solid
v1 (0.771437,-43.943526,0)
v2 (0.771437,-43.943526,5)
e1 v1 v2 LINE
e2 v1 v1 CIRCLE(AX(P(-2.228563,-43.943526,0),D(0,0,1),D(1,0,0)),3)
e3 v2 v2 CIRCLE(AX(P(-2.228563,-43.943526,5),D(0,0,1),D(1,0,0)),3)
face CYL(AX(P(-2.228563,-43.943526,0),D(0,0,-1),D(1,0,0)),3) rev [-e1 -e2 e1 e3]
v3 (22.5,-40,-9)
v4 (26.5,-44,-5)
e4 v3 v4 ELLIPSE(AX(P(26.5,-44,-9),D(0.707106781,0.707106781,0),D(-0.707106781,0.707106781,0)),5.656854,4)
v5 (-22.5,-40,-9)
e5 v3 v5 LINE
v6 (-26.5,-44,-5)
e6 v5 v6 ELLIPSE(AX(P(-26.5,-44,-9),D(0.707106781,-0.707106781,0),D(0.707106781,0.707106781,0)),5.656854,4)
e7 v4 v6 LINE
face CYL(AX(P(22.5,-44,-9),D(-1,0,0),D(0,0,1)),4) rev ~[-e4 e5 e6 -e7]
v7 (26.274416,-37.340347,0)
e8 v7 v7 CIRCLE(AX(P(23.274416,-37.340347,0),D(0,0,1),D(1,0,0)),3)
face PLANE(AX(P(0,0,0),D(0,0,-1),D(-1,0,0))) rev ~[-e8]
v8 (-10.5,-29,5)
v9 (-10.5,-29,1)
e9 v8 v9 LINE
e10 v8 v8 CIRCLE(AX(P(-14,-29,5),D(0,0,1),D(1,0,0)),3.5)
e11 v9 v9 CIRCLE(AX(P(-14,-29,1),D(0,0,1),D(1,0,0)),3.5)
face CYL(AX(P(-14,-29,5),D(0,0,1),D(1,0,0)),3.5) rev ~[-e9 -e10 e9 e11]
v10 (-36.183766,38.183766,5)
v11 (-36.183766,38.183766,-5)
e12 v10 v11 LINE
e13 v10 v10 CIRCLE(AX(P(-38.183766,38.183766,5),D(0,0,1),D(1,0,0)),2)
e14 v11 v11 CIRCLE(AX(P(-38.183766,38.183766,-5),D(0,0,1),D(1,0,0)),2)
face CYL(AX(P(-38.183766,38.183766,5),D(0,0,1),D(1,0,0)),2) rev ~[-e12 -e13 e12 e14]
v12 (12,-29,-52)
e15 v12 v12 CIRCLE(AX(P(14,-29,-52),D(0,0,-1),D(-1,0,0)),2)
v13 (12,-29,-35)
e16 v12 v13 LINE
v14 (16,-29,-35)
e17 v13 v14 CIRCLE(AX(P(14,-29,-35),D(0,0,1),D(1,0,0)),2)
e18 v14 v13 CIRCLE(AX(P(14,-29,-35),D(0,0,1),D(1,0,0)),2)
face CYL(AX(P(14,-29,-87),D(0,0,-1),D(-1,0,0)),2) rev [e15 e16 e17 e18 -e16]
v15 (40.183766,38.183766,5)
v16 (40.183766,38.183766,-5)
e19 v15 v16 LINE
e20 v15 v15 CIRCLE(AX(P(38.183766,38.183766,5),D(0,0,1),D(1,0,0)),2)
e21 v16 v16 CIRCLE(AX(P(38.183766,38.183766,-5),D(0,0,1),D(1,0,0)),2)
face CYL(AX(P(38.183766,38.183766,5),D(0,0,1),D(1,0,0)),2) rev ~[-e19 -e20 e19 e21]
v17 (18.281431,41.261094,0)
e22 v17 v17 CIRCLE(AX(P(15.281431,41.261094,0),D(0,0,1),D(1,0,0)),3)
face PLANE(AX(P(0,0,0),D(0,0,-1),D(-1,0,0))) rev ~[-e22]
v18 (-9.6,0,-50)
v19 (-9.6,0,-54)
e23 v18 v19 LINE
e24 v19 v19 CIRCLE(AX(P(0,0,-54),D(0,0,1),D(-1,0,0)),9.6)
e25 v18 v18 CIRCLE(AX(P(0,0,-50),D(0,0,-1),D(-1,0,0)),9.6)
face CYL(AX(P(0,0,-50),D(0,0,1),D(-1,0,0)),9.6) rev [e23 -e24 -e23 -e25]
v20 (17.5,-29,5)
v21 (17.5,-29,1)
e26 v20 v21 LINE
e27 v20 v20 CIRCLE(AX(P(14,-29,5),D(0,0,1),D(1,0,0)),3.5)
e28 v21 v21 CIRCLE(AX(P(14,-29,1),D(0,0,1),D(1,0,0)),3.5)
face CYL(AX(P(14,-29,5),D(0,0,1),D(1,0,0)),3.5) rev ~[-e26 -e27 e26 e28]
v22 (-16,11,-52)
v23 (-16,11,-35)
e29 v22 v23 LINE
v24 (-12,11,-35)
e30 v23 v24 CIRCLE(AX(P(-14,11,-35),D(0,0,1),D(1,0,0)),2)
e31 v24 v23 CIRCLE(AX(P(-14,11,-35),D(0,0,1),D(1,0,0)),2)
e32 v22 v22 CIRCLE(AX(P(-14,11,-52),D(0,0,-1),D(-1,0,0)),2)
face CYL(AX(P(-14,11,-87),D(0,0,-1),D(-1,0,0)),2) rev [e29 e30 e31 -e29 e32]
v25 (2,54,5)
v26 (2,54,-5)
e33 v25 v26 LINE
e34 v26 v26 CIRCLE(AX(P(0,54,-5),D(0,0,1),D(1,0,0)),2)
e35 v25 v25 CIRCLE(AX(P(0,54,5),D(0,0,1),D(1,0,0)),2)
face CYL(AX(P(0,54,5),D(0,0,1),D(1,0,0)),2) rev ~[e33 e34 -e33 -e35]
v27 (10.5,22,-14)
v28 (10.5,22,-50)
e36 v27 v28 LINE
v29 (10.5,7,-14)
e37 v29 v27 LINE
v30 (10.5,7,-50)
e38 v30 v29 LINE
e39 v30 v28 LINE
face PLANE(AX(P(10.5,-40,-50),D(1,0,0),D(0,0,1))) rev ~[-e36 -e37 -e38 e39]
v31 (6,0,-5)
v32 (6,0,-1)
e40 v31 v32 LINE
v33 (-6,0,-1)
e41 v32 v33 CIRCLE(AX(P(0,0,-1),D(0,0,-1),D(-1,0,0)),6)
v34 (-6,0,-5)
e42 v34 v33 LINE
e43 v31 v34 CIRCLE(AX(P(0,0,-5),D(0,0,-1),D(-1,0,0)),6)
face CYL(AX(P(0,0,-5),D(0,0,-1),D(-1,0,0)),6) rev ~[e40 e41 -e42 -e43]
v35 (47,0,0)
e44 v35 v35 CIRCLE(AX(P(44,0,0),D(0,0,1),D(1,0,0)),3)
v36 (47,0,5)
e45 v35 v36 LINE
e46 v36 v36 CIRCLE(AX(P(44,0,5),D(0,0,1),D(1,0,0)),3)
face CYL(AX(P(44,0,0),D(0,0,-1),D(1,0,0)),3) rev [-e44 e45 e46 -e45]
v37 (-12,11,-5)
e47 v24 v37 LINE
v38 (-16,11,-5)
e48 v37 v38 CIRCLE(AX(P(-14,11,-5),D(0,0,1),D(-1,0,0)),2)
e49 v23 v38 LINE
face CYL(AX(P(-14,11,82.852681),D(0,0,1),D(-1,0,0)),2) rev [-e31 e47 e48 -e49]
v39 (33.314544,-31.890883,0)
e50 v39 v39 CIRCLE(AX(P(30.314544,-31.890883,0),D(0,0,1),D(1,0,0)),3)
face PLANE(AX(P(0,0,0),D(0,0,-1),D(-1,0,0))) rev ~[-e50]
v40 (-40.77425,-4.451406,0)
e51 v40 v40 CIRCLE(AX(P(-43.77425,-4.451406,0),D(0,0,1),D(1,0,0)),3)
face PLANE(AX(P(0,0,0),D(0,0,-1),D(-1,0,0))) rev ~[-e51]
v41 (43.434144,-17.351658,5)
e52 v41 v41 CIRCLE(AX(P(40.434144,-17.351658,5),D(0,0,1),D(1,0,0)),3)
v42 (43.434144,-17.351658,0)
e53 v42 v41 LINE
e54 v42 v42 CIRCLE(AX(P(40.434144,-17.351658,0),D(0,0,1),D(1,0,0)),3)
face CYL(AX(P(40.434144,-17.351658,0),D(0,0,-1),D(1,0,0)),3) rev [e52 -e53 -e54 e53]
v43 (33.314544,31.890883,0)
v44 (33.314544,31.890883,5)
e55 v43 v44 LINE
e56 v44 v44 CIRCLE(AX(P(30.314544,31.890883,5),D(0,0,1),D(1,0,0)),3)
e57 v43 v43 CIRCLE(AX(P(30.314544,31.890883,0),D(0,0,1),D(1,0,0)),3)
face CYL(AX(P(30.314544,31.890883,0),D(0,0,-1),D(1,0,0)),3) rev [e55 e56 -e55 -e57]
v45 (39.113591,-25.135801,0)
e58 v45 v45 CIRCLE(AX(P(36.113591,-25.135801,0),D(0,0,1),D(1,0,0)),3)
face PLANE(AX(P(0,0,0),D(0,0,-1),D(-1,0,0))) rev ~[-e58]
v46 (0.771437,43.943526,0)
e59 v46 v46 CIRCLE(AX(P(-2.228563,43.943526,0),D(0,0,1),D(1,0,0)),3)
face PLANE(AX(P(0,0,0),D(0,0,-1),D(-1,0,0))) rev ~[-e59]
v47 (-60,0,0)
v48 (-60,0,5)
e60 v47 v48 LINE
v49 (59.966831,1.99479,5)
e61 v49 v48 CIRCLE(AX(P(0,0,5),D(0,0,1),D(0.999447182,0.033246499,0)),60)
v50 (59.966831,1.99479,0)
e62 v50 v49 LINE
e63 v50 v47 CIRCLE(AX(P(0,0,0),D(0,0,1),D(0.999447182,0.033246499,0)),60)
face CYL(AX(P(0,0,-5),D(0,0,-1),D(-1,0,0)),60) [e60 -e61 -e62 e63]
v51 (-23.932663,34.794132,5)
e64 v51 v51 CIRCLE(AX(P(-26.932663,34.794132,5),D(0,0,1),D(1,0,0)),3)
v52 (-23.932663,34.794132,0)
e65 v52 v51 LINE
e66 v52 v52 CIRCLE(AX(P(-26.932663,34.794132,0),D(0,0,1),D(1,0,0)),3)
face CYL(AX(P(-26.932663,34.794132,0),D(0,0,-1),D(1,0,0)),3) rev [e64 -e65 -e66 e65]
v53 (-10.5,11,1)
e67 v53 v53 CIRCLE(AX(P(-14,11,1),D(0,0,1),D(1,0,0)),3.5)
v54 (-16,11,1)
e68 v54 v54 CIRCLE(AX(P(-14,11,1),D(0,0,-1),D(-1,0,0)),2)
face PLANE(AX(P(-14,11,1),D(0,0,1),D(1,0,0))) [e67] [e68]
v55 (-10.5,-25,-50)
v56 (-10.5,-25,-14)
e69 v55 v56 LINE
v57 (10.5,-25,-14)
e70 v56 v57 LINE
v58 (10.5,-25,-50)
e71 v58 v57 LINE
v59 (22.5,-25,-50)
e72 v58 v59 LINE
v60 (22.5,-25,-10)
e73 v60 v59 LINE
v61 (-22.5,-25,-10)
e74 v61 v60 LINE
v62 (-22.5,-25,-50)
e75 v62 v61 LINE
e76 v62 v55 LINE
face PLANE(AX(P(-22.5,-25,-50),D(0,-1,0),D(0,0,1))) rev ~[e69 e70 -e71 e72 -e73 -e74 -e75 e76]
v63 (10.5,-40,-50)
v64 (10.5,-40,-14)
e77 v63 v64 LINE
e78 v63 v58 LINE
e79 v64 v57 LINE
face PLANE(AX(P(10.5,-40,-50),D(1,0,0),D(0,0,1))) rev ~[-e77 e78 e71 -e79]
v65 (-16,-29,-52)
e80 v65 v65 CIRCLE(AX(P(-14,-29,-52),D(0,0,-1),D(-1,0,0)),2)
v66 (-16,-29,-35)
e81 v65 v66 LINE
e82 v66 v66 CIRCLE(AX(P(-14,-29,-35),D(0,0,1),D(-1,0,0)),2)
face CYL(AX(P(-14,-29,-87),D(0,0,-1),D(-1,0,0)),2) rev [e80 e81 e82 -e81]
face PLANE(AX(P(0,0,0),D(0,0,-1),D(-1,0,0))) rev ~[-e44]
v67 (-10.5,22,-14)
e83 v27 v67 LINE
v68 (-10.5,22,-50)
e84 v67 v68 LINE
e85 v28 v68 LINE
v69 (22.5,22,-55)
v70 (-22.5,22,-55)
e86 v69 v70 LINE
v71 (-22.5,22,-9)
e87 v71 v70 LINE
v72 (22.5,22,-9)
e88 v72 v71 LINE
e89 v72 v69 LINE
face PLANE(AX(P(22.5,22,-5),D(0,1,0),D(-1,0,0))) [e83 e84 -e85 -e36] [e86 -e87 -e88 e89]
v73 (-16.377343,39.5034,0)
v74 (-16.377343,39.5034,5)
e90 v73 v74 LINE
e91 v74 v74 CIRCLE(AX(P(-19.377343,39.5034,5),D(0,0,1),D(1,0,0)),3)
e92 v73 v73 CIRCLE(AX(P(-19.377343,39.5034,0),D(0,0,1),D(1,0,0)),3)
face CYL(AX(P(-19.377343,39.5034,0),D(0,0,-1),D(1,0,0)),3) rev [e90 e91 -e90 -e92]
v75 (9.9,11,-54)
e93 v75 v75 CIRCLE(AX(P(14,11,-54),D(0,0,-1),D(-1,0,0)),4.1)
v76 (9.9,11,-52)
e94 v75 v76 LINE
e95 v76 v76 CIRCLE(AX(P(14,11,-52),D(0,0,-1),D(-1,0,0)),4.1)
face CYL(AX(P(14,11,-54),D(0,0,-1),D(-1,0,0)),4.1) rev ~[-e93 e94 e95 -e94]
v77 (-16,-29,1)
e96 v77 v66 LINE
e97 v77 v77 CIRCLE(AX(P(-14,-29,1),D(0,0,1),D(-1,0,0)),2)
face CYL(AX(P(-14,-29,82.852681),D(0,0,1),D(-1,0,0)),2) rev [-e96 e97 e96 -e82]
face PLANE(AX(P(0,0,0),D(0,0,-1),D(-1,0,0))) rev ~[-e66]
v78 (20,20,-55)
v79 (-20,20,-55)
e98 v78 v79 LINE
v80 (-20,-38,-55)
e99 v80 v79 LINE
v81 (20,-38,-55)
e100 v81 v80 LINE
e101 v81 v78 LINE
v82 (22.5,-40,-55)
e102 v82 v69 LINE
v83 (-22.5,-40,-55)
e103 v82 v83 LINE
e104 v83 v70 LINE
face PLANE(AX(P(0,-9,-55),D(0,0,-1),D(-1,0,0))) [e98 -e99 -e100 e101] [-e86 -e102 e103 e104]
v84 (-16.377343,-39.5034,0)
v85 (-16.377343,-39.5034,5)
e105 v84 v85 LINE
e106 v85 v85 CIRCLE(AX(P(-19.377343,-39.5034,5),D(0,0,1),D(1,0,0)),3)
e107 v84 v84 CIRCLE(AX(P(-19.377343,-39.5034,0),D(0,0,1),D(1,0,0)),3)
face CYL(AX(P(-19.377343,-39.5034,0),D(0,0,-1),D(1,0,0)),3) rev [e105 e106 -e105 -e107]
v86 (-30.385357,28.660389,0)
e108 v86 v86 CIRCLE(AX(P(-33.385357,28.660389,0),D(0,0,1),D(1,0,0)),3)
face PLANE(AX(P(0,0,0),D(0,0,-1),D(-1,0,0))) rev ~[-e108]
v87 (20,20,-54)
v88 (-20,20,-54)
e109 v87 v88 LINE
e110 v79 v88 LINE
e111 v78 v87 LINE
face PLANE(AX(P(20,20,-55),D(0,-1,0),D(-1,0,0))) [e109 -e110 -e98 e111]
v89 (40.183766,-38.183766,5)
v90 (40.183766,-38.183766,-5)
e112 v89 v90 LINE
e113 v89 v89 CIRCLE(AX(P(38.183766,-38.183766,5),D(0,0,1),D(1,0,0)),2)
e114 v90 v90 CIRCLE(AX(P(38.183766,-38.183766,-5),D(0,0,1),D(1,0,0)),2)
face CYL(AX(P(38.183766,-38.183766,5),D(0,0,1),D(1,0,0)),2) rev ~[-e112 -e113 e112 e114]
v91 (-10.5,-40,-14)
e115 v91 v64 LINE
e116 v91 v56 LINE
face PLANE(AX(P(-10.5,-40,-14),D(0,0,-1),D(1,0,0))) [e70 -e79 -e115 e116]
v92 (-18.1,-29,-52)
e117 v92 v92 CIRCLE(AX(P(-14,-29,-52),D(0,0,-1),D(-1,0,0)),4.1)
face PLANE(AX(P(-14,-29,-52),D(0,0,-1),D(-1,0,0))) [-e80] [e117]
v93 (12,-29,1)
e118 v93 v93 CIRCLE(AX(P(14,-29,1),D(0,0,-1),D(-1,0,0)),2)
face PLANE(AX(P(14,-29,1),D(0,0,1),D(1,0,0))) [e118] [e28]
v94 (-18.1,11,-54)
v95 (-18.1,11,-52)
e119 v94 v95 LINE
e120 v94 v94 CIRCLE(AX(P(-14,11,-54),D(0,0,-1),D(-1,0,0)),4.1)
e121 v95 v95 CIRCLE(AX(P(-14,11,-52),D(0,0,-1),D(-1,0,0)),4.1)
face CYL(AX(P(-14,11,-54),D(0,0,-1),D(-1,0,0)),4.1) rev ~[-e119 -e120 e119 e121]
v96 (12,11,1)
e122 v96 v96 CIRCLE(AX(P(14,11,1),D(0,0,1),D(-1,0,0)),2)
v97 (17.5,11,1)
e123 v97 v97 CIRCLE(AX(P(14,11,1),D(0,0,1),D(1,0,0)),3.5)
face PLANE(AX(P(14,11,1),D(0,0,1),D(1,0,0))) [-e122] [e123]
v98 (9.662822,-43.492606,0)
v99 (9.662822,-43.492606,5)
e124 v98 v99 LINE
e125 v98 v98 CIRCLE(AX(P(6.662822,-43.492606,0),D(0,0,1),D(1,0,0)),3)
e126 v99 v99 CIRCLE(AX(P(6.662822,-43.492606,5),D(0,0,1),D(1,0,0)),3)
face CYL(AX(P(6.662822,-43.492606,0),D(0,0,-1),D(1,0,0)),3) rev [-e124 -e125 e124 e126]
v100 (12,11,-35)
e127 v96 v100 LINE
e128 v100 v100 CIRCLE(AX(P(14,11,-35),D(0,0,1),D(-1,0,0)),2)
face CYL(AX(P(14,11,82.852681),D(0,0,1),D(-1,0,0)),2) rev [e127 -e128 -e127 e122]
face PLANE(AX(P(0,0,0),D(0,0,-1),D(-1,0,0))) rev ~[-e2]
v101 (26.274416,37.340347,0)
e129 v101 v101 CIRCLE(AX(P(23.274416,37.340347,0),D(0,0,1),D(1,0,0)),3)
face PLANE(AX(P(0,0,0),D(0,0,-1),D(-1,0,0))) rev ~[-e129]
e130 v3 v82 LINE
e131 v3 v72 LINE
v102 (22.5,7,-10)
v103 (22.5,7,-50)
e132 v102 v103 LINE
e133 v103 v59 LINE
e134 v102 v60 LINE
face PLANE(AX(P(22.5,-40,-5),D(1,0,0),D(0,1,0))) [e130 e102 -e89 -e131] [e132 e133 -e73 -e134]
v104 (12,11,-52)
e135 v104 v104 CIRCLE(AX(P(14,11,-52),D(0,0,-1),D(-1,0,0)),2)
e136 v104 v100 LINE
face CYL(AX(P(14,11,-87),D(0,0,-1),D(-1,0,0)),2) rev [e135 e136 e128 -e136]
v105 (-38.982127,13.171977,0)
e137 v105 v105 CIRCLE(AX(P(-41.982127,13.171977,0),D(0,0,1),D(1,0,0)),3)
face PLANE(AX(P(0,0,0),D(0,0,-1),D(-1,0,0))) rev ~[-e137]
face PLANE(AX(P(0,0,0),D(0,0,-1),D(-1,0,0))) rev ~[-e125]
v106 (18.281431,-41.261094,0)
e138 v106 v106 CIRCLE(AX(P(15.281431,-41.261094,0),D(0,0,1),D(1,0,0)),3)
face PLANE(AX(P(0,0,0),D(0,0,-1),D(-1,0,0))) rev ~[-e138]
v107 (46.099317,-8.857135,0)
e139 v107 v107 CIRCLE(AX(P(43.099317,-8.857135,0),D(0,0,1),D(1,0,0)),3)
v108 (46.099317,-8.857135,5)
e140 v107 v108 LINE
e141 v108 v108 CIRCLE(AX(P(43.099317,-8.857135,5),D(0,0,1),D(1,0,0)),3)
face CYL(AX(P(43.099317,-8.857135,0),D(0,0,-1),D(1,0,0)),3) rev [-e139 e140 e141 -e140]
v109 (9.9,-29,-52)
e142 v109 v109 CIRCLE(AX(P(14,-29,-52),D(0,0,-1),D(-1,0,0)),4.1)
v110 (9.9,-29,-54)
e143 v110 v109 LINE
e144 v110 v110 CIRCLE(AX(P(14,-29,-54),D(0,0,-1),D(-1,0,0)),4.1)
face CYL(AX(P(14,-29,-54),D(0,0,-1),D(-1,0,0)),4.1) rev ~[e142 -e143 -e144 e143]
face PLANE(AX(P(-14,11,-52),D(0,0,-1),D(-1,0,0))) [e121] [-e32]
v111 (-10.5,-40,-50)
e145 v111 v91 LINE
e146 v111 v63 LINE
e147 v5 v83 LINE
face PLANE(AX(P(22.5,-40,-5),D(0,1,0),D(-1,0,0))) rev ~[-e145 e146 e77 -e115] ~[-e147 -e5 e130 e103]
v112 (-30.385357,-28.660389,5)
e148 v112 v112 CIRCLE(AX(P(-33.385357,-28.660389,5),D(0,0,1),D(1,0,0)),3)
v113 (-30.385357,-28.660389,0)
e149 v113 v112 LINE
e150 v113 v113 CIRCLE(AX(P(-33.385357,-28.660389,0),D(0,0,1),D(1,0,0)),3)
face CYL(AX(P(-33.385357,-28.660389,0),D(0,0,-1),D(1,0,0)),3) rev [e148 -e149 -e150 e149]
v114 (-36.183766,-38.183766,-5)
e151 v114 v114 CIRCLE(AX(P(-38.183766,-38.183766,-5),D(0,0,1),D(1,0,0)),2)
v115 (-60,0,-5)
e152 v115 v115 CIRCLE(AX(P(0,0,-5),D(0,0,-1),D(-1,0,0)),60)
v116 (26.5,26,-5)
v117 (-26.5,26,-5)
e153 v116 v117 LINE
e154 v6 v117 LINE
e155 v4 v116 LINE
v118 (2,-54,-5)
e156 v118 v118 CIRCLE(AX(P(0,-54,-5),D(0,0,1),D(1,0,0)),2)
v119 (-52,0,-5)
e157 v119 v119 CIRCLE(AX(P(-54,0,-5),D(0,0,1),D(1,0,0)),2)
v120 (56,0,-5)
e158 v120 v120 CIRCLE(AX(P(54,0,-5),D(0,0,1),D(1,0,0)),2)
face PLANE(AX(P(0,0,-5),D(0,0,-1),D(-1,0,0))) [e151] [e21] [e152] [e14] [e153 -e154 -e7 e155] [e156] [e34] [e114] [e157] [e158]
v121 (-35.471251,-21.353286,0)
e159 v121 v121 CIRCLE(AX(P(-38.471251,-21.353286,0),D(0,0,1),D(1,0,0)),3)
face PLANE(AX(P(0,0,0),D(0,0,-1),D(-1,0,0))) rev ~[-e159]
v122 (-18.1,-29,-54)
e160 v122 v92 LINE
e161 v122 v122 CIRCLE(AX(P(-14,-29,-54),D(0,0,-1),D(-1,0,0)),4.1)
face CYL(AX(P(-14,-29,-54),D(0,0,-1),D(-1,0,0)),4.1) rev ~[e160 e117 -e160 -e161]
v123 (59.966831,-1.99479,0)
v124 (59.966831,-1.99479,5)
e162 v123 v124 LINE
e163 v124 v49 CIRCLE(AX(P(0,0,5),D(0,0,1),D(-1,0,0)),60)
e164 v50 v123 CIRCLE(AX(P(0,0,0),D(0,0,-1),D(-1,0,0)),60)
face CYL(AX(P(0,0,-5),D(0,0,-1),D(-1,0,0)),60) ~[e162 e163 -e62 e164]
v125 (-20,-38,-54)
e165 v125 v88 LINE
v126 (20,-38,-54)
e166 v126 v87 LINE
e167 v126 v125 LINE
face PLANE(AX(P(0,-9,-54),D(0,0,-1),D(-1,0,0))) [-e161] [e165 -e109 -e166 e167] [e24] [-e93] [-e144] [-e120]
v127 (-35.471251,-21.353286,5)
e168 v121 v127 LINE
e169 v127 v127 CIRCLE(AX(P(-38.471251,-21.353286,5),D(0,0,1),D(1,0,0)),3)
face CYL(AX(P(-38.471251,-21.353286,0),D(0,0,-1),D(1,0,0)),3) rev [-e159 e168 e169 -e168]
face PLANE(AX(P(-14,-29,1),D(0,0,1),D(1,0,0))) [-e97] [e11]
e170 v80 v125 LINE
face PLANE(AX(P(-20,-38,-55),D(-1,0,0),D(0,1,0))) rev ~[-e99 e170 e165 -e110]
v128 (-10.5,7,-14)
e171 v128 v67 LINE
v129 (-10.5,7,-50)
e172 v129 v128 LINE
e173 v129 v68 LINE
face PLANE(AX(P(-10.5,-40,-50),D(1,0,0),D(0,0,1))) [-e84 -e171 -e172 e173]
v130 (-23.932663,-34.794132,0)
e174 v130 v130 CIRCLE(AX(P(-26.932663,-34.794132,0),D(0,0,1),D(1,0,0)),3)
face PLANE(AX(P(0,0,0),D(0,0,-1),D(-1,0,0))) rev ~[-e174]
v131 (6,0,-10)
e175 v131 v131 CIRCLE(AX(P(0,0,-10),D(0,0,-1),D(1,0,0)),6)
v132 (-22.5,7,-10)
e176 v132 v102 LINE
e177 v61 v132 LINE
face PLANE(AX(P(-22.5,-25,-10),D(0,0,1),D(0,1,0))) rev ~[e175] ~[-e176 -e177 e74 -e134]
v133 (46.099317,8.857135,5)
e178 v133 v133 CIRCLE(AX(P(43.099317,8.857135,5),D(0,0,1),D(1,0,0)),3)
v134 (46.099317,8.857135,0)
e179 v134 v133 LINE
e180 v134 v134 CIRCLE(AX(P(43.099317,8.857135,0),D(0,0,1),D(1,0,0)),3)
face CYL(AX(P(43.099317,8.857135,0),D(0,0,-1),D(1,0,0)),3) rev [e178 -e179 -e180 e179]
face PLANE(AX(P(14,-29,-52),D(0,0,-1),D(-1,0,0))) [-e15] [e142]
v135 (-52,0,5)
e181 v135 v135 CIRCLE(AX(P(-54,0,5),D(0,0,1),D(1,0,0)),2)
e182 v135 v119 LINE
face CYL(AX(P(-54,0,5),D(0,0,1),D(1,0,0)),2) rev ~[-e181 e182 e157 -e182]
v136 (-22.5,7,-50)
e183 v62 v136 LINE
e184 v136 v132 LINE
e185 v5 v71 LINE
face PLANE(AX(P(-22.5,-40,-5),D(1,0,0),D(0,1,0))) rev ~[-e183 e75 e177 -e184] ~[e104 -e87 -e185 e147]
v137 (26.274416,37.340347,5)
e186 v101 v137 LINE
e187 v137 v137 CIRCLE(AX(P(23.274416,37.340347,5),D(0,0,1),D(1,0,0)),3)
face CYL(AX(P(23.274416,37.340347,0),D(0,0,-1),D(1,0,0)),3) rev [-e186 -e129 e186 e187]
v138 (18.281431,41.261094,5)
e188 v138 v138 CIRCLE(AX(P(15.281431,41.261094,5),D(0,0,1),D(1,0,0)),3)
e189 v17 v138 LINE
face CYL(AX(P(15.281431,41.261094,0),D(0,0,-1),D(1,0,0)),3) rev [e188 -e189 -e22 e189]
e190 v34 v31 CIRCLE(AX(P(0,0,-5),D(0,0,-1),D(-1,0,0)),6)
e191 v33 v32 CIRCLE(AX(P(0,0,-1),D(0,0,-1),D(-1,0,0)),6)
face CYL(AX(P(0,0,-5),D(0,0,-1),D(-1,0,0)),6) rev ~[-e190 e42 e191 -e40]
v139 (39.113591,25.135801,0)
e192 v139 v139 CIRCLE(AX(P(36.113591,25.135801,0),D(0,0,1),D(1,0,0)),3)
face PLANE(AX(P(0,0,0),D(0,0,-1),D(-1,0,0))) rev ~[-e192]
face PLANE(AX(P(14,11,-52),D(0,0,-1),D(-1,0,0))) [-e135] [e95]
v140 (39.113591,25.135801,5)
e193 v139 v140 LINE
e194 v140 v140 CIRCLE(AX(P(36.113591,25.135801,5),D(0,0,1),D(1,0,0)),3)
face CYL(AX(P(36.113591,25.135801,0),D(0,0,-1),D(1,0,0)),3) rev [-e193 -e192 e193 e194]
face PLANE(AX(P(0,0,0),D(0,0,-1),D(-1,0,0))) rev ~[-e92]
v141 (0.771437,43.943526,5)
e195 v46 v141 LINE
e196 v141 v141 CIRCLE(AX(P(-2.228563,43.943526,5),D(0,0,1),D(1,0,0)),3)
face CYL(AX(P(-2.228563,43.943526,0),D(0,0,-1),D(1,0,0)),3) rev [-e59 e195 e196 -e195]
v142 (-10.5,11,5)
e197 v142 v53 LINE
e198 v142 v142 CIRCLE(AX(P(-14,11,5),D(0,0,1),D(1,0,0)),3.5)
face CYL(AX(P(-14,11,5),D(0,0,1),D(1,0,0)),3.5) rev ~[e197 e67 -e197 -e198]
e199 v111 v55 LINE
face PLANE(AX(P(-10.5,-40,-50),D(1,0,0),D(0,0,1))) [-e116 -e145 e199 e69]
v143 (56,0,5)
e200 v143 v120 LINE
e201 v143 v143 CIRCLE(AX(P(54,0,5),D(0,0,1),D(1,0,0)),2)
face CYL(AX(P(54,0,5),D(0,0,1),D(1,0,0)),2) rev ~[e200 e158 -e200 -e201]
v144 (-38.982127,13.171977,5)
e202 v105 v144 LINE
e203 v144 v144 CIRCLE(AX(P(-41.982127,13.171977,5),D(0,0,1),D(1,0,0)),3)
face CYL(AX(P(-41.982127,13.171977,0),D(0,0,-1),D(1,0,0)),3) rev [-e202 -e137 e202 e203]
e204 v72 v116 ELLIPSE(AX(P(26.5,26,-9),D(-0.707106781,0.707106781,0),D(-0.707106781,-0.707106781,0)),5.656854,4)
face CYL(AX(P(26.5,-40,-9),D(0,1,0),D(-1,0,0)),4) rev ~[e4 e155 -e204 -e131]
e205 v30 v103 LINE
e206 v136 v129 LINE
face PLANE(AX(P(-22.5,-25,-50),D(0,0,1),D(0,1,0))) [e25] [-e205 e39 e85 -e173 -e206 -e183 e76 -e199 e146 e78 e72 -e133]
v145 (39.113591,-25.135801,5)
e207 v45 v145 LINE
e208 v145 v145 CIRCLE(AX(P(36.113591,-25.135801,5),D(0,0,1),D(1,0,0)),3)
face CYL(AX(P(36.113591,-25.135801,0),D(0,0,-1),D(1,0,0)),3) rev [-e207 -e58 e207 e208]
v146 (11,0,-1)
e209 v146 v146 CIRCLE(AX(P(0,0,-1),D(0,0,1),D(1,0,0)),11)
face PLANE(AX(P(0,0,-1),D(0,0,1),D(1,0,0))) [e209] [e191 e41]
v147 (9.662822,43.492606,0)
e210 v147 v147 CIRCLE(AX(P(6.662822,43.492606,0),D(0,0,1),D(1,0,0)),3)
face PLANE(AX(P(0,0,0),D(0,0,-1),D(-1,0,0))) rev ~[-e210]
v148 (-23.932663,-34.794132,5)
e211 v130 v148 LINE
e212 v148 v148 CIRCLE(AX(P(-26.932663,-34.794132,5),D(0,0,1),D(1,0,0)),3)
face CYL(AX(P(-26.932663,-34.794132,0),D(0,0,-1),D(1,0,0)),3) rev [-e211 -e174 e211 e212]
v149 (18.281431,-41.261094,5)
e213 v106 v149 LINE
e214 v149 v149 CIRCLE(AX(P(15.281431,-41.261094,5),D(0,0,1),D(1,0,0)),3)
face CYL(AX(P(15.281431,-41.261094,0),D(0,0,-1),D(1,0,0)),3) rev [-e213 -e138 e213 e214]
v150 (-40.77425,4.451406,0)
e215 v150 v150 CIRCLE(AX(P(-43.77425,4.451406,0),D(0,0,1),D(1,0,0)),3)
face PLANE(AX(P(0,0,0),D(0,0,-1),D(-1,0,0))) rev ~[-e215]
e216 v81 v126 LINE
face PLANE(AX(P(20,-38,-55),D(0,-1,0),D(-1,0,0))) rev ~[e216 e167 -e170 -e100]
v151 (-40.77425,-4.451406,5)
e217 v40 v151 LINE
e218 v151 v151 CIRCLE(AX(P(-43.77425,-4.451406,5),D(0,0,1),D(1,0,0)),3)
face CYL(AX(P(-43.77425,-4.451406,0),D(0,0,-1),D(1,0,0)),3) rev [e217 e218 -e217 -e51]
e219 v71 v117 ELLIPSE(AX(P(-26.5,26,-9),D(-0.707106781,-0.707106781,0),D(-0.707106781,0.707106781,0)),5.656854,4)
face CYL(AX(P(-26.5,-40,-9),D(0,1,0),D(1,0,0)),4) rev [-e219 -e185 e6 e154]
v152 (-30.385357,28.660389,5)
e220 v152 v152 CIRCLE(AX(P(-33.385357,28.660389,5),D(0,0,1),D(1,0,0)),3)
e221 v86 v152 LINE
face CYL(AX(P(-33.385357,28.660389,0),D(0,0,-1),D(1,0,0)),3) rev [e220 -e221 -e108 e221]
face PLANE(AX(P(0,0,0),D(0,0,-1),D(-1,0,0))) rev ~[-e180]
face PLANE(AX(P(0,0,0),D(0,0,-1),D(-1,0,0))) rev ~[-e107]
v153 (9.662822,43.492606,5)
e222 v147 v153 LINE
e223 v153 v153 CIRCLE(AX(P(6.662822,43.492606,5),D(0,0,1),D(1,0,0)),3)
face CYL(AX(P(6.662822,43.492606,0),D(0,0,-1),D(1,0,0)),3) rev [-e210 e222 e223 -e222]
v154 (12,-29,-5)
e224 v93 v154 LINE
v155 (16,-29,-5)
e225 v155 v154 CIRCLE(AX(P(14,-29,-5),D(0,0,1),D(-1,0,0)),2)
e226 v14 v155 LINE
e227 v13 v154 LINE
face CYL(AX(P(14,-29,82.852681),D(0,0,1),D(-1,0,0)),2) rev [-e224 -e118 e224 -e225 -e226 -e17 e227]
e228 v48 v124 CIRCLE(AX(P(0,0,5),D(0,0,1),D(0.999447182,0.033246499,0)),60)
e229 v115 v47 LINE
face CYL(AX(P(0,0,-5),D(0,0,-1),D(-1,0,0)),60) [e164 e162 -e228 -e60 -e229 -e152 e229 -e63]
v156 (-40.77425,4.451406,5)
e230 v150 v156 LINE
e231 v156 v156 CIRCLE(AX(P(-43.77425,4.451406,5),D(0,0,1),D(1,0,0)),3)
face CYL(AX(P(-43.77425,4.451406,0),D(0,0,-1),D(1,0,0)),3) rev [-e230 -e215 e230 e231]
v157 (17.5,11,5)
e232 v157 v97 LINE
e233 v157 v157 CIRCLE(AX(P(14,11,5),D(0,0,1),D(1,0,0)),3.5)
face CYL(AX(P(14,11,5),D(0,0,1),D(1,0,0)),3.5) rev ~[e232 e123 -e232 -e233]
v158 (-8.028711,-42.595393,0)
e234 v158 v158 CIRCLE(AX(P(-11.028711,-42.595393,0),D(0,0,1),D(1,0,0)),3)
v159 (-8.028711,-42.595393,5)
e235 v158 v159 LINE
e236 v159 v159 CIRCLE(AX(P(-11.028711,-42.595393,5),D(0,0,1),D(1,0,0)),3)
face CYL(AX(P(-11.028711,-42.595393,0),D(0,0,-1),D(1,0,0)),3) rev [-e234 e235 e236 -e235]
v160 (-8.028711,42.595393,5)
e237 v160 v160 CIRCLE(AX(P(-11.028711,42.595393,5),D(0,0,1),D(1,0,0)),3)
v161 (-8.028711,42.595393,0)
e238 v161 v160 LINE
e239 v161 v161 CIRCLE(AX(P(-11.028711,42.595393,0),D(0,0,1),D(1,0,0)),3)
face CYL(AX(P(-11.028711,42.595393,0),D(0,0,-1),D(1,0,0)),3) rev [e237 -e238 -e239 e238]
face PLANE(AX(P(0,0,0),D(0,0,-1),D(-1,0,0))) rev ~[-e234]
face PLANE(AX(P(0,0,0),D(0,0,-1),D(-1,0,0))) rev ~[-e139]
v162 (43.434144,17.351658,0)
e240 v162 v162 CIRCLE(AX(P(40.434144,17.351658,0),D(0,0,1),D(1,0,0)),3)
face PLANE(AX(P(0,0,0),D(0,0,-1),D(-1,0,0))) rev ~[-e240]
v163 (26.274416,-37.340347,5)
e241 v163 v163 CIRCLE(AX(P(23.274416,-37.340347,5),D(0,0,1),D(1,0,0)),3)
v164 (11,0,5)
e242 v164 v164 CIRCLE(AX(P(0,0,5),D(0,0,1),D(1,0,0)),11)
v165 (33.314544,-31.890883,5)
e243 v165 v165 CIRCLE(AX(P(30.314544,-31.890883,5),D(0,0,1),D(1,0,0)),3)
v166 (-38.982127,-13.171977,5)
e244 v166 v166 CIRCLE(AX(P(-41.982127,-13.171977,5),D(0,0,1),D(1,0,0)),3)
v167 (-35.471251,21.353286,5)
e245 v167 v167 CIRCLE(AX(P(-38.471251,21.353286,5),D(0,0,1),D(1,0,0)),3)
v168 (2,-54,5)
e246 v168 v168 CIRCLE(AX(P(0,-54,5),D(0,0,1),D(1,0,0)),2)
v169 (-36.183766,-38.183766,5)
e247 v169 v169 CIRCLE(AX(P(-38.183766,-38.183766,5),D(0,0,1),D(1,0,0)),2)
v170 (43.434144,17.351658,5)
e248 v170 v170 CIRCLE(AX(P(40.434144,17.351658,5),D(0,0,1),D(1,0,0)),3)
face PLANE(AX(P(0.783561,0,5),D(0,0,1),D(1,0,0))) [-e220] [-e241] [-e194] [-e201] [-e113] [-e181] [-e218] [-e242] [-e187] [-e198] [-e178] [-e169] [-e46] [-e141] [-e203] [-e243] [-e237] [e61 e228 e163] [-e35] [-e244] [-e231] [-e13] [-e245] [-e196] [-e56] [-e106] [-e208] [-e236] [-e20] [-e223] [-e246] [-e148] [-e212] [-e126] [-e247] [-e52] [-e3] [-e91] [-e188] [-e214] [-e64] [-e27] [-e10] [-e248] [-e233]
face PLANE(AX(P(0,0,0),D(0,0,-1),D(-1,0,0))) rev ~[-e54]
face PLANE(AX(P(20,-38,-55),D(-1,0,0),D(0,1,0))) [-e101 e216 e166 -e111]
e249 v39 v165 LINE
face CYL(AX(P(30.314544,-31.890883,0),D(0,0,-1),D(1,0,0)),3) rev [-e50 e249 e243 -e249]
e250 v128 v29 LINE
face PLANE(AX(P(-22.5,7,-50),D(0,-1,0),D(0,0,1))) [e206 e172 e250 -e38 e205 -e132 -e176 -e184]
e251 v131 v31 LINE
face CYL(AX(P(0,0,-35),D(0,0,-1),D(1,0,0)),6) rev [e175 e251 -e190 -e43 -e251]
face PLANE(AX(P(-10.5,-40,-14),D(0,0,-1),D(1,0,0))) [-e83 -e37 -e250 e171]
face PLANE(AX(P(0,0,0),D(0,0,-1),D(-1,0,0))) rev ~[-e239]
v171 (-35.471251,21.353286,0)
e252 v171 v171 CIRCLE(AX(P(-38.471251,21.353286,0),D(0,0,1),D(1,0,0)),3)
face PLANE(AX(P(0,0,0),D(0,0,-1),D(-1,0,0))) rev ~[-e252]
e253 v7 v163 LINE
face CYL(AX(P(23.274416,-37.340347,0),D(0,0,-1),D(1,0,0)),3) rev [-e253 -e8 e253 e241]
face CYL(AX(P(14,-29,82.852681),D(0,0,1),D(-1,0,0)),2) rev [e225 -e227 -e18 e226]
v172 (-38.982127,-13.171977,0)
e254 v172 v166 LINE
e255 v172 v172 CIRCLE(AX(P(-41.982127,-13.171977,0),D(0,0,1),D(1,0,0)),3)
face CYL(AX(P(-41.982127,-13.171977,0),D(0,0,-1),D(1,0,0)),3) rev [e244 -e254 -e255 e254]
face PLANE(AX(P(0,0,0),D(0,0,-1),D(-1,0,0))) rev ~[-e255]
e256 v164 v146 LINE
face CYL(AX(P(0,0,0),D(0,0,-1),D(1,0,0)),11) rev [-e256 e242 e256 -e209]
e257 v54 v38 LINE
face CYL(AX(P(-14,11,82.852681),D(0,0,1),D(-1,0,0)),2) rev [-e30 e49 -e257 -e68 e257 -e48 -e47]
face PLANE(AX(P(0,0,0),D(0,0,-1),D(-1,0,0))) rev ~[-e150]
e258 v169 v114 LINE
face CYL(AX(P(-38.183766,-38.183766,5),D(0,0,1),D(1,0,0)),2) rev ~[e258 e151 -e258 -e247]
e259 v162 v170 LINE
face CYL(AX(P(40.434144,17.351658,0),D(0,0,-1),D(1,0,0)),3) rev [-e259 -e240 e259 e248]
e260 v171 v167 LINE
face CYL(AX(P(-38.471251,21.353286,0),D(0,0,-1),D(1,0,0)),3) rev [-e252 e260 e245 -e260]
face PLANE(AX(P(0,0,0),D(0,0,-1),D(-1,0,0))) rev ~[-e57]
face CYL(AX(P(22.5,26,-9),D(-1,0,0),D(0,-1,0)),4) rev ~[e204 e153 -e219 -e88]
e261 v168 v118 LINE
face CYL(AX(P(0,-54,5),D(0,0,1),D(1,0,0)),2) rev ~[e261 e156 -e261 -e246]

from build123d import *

# Parameters (mm, degrees)
SKETCH1_R               = 3
SKETCH1_R_2             = 11
BOSS_EXTRUDE1_DEPTH     = 5
BOSS_EXTRUDE2_START     = 5
SKETCH2_R               = 60
SKETCH2_R_2             = 6
BOSS_EXTRUDE2_DEPTH     = 5
SKETCH3_R               = 2
CUT_EXTRUDE1_DEPTH      = 35
CUT_EXTRUDE2_START      = -1
SKETCH4_R               = 11
CUT_EXTRUDE2_DEPTH      = 1
CUT_EXTRUDE3_DEPTH      = 87.852680842
CUT_EXTRUDE3_DEPTH_BACK = 87.852680842
SKETCH5_R               = 2
SKETCH6_W               = 45
SKETCH6_H               = 62
BOSS_EXTRUDE3_DEPTH     = 50
CUT_EXTRUDE4_START      = -40
SKETCH7_R               = 2
SKETCH7_R_2             = 6
CUT_EXTRUDE4_DEPTH      = 40
CUT_EXTRUDE5_DEPTH      = 88
CUT_EXTRUDE5_DEPTH_BACK = 5
SKETCH8_R               = 9.6
SKETCH9_W               = 40
SKETCH9_H               = 32
CUT_EXTRUDE6_DEPTH      = 71
SKETCH10_R              = 3.5
CUT_EXTRUDE7_DEPTH      = 4
FILLET1_R               = 4
SKETCH11_W              = 40
SKETCH11_H              = 58
CUT_EXTRUDE8_DEPTH      = 1
SKETCH12_W              = 21
SKETCH12_H              = 36
CUT_EXTRUDE9_DEPTH      = 88
CUT_EXTRUDE10_START     = -88
SKETCH13_R              = 2
CUT_EXTRUDE10_DEPTH     = 88
CUT_EXTRUDE11_START     = -10
SKETCH14_R              = 82.644594736
SKETCH14_R_2            = 60
CUT_EXTRUDE11_DEPTH     = 10
SKETCH15_R              = 4.1
CUT_EXTRUDE12_DEPTH     = 2


with BuildPart() as part:
    # Sketch1 → Boss-Extrude1 (new body)
    with BuildSketch(Plane.XY):
        with BuildLine():
            ThreePointArc((59.966830941, 1.994789941), (-60, 0), (59.966830941, -1.994789941))
            ThreePointArc((59.966830941, -1.994789941), (61.995065687, 0), (59.966830941, 1.994789941))
        make_face()
        with Locations((44, 0)):
            Circle(SKETCH1_R, mode=Mode.SUBTRACT)
        with Locations((43.099317415, -8.857134884)):
            Circle(SKETCH1_R, mode=Mode.SUBTRACT)
        with Locations((40.434143711, -17.351657625)):
            Circle(SKETCH1_R, mode=Mode.SUBTRACT)
        with Locations((36.113591413, -25.135801464)):
            Circle(SKETCH1_R, mode=Mode.SUBTRACT)
        with Locations((30.314544439, -31.890882638)):
            Circle(SKETCH1_R, mode=Mode.SUBTRACT)
        with Locations((23.274416454, -37.34034733)):
            Circle(SKETCH1_R, mode=Mode.SUBTRACT)
        with Locations((15.281431125, -41.261093814)):
            Circle(SKETCH1_R, mode=Mode.SUBTRACT)
        with Locations((6.66282221, -43.49260627)):
            Circle(SKETCH1_R, mode=Mode.SUBTRACT)
        with Locations((-2.228563429, -43.943526316)):
            Circle(SKETCH1_R, mode=Mode.SUBTRACT)
        with Locations((-11.028711419, -42.59539323)):
            Circle(SKETCH1_R, mode=Mode.SUBTRACT)
        with Locations((-19.377342669, -39.503399741)):
            Circle(SKETCH1_R, mode=Mode.SUBTRACT)
        with Locations((-26.932663232, -34.794132425)):
            Circle(SKETCH1_R, mode=Mode.SUBTRACT)
        with Locations((-33.385357398, -28.66038924)):
            Circle(SKETCH1_R, mode=Mode.SUBTRACT)
        with Locations((-38.47125111, -21.353286351)):
            Circle(SKETCH1_R, mode=Mode.SUBTRACT)
        with Locations((-41.982127282, -13.171977411)):
            Circle(SKETCH1_R, mode=Mode.SUBTRACT)
        with Locations((-43.774250229, -4.451406167)):
            Circle(SKETCH1_R, mode=Mode.SUBTRACT)
        with Locations((-43.774250229, 4.451406167)):
            Circle(SKETCH1_R, mode=Mode.SUBTRACT)
        with Locations((-41.982127282, 13.171977411)):
            Circle(SKETCH1_R, mode=Mode.SUBTRACT)
        with Locations((-38.47125111, 21.353286351)):
            Circle(SKETCH1_R, mode=Mode.SUBTRACT)
        with Locations((-33.385357398, 28.66038924)):
            Circle(SKETCH1_R, mode=Mode.SUBTRACT)
        with Locations((-26.932663232, 34.794132425)):
            Circle(SKETCH1_R, mode=Mode.SUBTRACT)
        with Locations((-19.377342669, 39.503399741)):
            Circle(SKETCH1_R, mode=Mode.SUBTRACT)
        with Locations((-11.028711419, 42.59539323)):
            Circle(SKETCH1_R, mode=Mode.SUBTRACT)
        with Locations((-2.228563429, 43.943526316)):
            Circle(SKETCH1_R, mode=Mode.SUBTRACT)
        with Locations((6.66282221, 43.49260627)):
            Circle(SKETCH1_R, mode=Mode.SUBTRACT)
        with Locations((15.281431125, 41.261093814)):
            Circle(SKETCH1_R, mode=Mode.SUBTRACT)
        with Locations((23.274416454, 37.34034733)):
            Circle(SKETCH1_R, mode=Mode.SUBTRACT)
        with Locations((30.314544439, 31.890882638)):
            Circle(SKETCH1_R, mode=Mode.SUBTRACT)
        with Locations((36.113591413, 25.135801464)):
            Circle(SKETCH1_R, mode=Mode.SUBTRACT)
        with Locations((40.434143711, 17.351657625)):
            Circle(SKETCH1_R, mode=Mode.SUBTRACT)
        with Locations((43.099317415, 8.857134884)):
            Circle(SKETCH1_R, mode=Mode.SUBTRACT)
        Circle(SKETCH1_R_2, mode=Mode.SUBTRACT)
    extrude(amount=BOSS_EXTRUDE1_DEPTH)

    # Sketch2 → Boss-Extrude2 (add)
    with BuildSketch(Plane(origin=(0, 0, 0), x_dir=(-1, 0, 0), z_dir=(0, 0, -1)).offset(BOSS_EXTRUDE2_START)):
        Circle(SKETCH2_R)
        Circle(SKETCH2_R_2, mode=Mode.SUBTRACT)
    extrude(amount=-BOSS_EXTRUDE2_DEPTH)

    # Sketch3 → Cut-Extrude1 (cut)
    with BuildSketch(Plane.XY.offset(5)):
        with Locations((0, 54)):
            Circle(SKETCH3_R)
        with Locations((38.183766184, 38.183766184)):
            Circle(SKETCH3_R)
        with Locations((54, 0)):
            Circle(SKETCH3_R)
        with Locations((38.183766184, -38.183766184)):
            Circle(SKETCH3_R)
        with Locations((0, -54)):
            Circle(SKETCH3_R)
        with Locations((-38.183766184, -38.183766184)):
            Circle(SKETCH3_R)
        with Locations((-54, 0)):
            Circle(SKETCH3_R)
        with Locations((-38.183766184, 38.183766184)):
            Circle(SKETCH3_R)
    extrude(amount=-CUT_EXTRUDE1_DEPTH, mode=Mode.SUBTRACT)

    # Sketch4 → Cut-Extrude2 (cut)
    with BuildSketch(Plane.XY.offset(CUT_EXTRUDE2_START)):
        Circle(SKETCH4_R)
    extrude(amount=CUT_EXTRUDE2_DEPTH, mode=Mode.SUBTRACT)

    # Sketch5 → Cut-Extrude3 (cut, two sides: drawn at the far end of the back side and taken through both)
    with BuildSketch(Plane(origin=(0, 0, -5), x_dir=(-1, 0, 0), z_dir=(0, 0, -1)).offset(-CUT_EXTRUDE3_DEPTH_BACK)):
        with Locations((-14, 11)):
            Circle(SKETCH5_R)
        with Locations((14, 11)):
            Circle(SKETCH5_R)
        with Locations((14, -29)):
            Circle(SKETCH5_R)
        with Locations((-14, -29)):
            Circle(SKETCH5_R)
    extrude(amount=CUT_EXTRUDE3_DEPTH + CUT_EXTRUDE3_DEPTH_BACK, mode=Mode.SUBTRACT)

    # Sketch6 → Boss-Extrude3 (add)
    with BuildSketch(Plane(origin=(0, 0, -5), x_dir=(-1, 0, 0), z_dir=(0, 0, -1))):
        with Locations((0, -9)):
            Rectangle(SKETCH6_W, SKETCH6_H)
    extrude(amount=BOSS_EXTRUDE3_DEPTH)

    # Sketch7 → Cut-Extrude4 (cut)
    with BuildSketch(Plane.XY.offset(5).offset(CUT_EXTRUDE4_START)):
        with Locations((-14, 11)):
            Circle(SKETCH7_R)
        with Locations(Location((14, 11, 0), (0, 0, 180))):
            Circle(SKETCH7_R)
        with Locations((14, -29)):
            Circle(SKETCH7_R)
        with Locations(Location((-14, -29, 0), (0, 0, 180))):
            Circle(SKETCH7_R)
        Circle(SKETCH7_R_2)
    extrude(amount=CUT_EXTRUDE4_DEPTH, mode=Mode.SUBTRACT)

    # Sketch8 → Cut-Extrude5 (cut, two sides: drawn at the far end of the back side and taken through both)
    with BuildSketch(Plane(origin=(0, 0, -55), x_dir=(-1, 0, 0), z_dir=(0, 0, -1)).offset(-CUT_EXTRUDE5_DEPTH_BACK)):
        Circle(SKETCH8_R)
    extrude(amount=CUT_EXTRUDE5_DEPTH + CUT_EXTRUDE5_DEPTH_BACK, mode=Mode.SUBTRACT)

    # Sketch9 → Cut-Extrude6 (cut)
    with BuildSketch(Plane.ZY.offset(22.5)):
        with Locations((-30, -9)):
            Rectangle(SKETCH9_W, SKETCH9_H)
    extrude(amount=-CUT_EXTRUDE6_DEPTH, mode=Mode.SUBTRACT)

    # Sketch10 → Cut-Extrude7 (cut)
    with BuildSketch(Plane.XY.offset(5)):
        with Locations((-14, 11)):
            Circle(SKETCH10_R)
        with Locations((14, 11)):
            Circle(SKETCH10_R)
        with Locations((-14, -29)):
            Circle(SKETCH10_R)
        with Locations((14, -29)):
            Circle(SKETCH10_R)
    extrude(amount=-CUT_EXTRUDE7_DEPTH, mode=Mode.SUBTRACT)

    # Fillet1
    fillet1_edges = [part.edges().sort_by_distance(p)[0] for p in [
        (-22.5, -9, -5),
        (0, 22, -5),
        (22.5, -9, -5),
        (0, -40, -5),
    ]]
    fillet(fillet1_edges, radius=FILLET1_R)

    # Sketch11 → Cut-Extrude8 (cut)
    with BuildSketch(Plane(origin=(0, 0, -55), x_dir=(-1, 0, 0), z_dir=(0, 0, -1))):
        with Locations((0, -9)):
            Rectangle(SKETCH11_W, SKETCH11_H)
    extrude(amount=-CUT_EXTRUDE8_DEPTH, mode=Mode.SUBTRACT)

    # Sketch12 → Cut-Extrude9 (cut)
    with BuildSketch(Plane.XZ.offset(40)):
        with Locations((0, -32)):
            Rectangle(SKETCH12_W, SKETCH12_H)
    extrude(amount=-CUT_EXTRUDE9_DEPTH, mode=Mode.SUBTRACT)

    # Sketch13 → Cut-Extrude10 (cut)
    with BuildSketch(Plane.XY.offset(1).offset(CUT_EXTRUDE10_START)):
        with Locations(Location((-14, 11, 0), (0, 0, 180))):
            Circle(SKETCH13_R)
        with Locations(Location((14, 11, 0), (0, 0, 180))):
            Circle(SKETCH13_R)
        with Locations(Location((14, -29, 0), (0, 0, 180))):
            Circle(SKETCH13_R)
        with Locations(Location((-14, -29, 0), (0, 0, 180))):
            Circle(SKETCH13_R)
    extrude(amount=CUT_EXTRUDE10_DEPTH, mode=Mode.SUBTRACT)

    # Sketch14 → Cut-Extrude11 (cut)
    with BuildSketch(Plane.XY.offset(5).offset(CUT_EXTRUDE11_START)):
        Circle(SKETCH14_R)
        with Locations(Location((0, 0, 0), (0, 0, 180))):
            Circle(SKETCH14_R_2, mode=Mode.SUBTRACT)
    extrude(amount=CUT_EXTRUDE11_DEPTH, mode=Mode.SUBTRACT)

    # Sketch15 → Cut-Extrude12 (cut)
    with BuildSketch(Plane(origin=(0, 0, -54), x_dir=(-1, 0, 0), z_dir=(0, 0, -1))):
        with Locations((14, 11)):
            Circle(SKETCH15_R)
        with Locations((-14, 11)):
            Circle(SKETCH15_R)
        with Locations((-14, -29)):
            Circle(SKETCH15_R)
        with Locations((14, -29)):
            Circle(SKETCH15_R)
    extrude(amount=-CUT_EXTRUDE12_DEPTH, mode=Mode.SUBTRACT)


solid = part.part
